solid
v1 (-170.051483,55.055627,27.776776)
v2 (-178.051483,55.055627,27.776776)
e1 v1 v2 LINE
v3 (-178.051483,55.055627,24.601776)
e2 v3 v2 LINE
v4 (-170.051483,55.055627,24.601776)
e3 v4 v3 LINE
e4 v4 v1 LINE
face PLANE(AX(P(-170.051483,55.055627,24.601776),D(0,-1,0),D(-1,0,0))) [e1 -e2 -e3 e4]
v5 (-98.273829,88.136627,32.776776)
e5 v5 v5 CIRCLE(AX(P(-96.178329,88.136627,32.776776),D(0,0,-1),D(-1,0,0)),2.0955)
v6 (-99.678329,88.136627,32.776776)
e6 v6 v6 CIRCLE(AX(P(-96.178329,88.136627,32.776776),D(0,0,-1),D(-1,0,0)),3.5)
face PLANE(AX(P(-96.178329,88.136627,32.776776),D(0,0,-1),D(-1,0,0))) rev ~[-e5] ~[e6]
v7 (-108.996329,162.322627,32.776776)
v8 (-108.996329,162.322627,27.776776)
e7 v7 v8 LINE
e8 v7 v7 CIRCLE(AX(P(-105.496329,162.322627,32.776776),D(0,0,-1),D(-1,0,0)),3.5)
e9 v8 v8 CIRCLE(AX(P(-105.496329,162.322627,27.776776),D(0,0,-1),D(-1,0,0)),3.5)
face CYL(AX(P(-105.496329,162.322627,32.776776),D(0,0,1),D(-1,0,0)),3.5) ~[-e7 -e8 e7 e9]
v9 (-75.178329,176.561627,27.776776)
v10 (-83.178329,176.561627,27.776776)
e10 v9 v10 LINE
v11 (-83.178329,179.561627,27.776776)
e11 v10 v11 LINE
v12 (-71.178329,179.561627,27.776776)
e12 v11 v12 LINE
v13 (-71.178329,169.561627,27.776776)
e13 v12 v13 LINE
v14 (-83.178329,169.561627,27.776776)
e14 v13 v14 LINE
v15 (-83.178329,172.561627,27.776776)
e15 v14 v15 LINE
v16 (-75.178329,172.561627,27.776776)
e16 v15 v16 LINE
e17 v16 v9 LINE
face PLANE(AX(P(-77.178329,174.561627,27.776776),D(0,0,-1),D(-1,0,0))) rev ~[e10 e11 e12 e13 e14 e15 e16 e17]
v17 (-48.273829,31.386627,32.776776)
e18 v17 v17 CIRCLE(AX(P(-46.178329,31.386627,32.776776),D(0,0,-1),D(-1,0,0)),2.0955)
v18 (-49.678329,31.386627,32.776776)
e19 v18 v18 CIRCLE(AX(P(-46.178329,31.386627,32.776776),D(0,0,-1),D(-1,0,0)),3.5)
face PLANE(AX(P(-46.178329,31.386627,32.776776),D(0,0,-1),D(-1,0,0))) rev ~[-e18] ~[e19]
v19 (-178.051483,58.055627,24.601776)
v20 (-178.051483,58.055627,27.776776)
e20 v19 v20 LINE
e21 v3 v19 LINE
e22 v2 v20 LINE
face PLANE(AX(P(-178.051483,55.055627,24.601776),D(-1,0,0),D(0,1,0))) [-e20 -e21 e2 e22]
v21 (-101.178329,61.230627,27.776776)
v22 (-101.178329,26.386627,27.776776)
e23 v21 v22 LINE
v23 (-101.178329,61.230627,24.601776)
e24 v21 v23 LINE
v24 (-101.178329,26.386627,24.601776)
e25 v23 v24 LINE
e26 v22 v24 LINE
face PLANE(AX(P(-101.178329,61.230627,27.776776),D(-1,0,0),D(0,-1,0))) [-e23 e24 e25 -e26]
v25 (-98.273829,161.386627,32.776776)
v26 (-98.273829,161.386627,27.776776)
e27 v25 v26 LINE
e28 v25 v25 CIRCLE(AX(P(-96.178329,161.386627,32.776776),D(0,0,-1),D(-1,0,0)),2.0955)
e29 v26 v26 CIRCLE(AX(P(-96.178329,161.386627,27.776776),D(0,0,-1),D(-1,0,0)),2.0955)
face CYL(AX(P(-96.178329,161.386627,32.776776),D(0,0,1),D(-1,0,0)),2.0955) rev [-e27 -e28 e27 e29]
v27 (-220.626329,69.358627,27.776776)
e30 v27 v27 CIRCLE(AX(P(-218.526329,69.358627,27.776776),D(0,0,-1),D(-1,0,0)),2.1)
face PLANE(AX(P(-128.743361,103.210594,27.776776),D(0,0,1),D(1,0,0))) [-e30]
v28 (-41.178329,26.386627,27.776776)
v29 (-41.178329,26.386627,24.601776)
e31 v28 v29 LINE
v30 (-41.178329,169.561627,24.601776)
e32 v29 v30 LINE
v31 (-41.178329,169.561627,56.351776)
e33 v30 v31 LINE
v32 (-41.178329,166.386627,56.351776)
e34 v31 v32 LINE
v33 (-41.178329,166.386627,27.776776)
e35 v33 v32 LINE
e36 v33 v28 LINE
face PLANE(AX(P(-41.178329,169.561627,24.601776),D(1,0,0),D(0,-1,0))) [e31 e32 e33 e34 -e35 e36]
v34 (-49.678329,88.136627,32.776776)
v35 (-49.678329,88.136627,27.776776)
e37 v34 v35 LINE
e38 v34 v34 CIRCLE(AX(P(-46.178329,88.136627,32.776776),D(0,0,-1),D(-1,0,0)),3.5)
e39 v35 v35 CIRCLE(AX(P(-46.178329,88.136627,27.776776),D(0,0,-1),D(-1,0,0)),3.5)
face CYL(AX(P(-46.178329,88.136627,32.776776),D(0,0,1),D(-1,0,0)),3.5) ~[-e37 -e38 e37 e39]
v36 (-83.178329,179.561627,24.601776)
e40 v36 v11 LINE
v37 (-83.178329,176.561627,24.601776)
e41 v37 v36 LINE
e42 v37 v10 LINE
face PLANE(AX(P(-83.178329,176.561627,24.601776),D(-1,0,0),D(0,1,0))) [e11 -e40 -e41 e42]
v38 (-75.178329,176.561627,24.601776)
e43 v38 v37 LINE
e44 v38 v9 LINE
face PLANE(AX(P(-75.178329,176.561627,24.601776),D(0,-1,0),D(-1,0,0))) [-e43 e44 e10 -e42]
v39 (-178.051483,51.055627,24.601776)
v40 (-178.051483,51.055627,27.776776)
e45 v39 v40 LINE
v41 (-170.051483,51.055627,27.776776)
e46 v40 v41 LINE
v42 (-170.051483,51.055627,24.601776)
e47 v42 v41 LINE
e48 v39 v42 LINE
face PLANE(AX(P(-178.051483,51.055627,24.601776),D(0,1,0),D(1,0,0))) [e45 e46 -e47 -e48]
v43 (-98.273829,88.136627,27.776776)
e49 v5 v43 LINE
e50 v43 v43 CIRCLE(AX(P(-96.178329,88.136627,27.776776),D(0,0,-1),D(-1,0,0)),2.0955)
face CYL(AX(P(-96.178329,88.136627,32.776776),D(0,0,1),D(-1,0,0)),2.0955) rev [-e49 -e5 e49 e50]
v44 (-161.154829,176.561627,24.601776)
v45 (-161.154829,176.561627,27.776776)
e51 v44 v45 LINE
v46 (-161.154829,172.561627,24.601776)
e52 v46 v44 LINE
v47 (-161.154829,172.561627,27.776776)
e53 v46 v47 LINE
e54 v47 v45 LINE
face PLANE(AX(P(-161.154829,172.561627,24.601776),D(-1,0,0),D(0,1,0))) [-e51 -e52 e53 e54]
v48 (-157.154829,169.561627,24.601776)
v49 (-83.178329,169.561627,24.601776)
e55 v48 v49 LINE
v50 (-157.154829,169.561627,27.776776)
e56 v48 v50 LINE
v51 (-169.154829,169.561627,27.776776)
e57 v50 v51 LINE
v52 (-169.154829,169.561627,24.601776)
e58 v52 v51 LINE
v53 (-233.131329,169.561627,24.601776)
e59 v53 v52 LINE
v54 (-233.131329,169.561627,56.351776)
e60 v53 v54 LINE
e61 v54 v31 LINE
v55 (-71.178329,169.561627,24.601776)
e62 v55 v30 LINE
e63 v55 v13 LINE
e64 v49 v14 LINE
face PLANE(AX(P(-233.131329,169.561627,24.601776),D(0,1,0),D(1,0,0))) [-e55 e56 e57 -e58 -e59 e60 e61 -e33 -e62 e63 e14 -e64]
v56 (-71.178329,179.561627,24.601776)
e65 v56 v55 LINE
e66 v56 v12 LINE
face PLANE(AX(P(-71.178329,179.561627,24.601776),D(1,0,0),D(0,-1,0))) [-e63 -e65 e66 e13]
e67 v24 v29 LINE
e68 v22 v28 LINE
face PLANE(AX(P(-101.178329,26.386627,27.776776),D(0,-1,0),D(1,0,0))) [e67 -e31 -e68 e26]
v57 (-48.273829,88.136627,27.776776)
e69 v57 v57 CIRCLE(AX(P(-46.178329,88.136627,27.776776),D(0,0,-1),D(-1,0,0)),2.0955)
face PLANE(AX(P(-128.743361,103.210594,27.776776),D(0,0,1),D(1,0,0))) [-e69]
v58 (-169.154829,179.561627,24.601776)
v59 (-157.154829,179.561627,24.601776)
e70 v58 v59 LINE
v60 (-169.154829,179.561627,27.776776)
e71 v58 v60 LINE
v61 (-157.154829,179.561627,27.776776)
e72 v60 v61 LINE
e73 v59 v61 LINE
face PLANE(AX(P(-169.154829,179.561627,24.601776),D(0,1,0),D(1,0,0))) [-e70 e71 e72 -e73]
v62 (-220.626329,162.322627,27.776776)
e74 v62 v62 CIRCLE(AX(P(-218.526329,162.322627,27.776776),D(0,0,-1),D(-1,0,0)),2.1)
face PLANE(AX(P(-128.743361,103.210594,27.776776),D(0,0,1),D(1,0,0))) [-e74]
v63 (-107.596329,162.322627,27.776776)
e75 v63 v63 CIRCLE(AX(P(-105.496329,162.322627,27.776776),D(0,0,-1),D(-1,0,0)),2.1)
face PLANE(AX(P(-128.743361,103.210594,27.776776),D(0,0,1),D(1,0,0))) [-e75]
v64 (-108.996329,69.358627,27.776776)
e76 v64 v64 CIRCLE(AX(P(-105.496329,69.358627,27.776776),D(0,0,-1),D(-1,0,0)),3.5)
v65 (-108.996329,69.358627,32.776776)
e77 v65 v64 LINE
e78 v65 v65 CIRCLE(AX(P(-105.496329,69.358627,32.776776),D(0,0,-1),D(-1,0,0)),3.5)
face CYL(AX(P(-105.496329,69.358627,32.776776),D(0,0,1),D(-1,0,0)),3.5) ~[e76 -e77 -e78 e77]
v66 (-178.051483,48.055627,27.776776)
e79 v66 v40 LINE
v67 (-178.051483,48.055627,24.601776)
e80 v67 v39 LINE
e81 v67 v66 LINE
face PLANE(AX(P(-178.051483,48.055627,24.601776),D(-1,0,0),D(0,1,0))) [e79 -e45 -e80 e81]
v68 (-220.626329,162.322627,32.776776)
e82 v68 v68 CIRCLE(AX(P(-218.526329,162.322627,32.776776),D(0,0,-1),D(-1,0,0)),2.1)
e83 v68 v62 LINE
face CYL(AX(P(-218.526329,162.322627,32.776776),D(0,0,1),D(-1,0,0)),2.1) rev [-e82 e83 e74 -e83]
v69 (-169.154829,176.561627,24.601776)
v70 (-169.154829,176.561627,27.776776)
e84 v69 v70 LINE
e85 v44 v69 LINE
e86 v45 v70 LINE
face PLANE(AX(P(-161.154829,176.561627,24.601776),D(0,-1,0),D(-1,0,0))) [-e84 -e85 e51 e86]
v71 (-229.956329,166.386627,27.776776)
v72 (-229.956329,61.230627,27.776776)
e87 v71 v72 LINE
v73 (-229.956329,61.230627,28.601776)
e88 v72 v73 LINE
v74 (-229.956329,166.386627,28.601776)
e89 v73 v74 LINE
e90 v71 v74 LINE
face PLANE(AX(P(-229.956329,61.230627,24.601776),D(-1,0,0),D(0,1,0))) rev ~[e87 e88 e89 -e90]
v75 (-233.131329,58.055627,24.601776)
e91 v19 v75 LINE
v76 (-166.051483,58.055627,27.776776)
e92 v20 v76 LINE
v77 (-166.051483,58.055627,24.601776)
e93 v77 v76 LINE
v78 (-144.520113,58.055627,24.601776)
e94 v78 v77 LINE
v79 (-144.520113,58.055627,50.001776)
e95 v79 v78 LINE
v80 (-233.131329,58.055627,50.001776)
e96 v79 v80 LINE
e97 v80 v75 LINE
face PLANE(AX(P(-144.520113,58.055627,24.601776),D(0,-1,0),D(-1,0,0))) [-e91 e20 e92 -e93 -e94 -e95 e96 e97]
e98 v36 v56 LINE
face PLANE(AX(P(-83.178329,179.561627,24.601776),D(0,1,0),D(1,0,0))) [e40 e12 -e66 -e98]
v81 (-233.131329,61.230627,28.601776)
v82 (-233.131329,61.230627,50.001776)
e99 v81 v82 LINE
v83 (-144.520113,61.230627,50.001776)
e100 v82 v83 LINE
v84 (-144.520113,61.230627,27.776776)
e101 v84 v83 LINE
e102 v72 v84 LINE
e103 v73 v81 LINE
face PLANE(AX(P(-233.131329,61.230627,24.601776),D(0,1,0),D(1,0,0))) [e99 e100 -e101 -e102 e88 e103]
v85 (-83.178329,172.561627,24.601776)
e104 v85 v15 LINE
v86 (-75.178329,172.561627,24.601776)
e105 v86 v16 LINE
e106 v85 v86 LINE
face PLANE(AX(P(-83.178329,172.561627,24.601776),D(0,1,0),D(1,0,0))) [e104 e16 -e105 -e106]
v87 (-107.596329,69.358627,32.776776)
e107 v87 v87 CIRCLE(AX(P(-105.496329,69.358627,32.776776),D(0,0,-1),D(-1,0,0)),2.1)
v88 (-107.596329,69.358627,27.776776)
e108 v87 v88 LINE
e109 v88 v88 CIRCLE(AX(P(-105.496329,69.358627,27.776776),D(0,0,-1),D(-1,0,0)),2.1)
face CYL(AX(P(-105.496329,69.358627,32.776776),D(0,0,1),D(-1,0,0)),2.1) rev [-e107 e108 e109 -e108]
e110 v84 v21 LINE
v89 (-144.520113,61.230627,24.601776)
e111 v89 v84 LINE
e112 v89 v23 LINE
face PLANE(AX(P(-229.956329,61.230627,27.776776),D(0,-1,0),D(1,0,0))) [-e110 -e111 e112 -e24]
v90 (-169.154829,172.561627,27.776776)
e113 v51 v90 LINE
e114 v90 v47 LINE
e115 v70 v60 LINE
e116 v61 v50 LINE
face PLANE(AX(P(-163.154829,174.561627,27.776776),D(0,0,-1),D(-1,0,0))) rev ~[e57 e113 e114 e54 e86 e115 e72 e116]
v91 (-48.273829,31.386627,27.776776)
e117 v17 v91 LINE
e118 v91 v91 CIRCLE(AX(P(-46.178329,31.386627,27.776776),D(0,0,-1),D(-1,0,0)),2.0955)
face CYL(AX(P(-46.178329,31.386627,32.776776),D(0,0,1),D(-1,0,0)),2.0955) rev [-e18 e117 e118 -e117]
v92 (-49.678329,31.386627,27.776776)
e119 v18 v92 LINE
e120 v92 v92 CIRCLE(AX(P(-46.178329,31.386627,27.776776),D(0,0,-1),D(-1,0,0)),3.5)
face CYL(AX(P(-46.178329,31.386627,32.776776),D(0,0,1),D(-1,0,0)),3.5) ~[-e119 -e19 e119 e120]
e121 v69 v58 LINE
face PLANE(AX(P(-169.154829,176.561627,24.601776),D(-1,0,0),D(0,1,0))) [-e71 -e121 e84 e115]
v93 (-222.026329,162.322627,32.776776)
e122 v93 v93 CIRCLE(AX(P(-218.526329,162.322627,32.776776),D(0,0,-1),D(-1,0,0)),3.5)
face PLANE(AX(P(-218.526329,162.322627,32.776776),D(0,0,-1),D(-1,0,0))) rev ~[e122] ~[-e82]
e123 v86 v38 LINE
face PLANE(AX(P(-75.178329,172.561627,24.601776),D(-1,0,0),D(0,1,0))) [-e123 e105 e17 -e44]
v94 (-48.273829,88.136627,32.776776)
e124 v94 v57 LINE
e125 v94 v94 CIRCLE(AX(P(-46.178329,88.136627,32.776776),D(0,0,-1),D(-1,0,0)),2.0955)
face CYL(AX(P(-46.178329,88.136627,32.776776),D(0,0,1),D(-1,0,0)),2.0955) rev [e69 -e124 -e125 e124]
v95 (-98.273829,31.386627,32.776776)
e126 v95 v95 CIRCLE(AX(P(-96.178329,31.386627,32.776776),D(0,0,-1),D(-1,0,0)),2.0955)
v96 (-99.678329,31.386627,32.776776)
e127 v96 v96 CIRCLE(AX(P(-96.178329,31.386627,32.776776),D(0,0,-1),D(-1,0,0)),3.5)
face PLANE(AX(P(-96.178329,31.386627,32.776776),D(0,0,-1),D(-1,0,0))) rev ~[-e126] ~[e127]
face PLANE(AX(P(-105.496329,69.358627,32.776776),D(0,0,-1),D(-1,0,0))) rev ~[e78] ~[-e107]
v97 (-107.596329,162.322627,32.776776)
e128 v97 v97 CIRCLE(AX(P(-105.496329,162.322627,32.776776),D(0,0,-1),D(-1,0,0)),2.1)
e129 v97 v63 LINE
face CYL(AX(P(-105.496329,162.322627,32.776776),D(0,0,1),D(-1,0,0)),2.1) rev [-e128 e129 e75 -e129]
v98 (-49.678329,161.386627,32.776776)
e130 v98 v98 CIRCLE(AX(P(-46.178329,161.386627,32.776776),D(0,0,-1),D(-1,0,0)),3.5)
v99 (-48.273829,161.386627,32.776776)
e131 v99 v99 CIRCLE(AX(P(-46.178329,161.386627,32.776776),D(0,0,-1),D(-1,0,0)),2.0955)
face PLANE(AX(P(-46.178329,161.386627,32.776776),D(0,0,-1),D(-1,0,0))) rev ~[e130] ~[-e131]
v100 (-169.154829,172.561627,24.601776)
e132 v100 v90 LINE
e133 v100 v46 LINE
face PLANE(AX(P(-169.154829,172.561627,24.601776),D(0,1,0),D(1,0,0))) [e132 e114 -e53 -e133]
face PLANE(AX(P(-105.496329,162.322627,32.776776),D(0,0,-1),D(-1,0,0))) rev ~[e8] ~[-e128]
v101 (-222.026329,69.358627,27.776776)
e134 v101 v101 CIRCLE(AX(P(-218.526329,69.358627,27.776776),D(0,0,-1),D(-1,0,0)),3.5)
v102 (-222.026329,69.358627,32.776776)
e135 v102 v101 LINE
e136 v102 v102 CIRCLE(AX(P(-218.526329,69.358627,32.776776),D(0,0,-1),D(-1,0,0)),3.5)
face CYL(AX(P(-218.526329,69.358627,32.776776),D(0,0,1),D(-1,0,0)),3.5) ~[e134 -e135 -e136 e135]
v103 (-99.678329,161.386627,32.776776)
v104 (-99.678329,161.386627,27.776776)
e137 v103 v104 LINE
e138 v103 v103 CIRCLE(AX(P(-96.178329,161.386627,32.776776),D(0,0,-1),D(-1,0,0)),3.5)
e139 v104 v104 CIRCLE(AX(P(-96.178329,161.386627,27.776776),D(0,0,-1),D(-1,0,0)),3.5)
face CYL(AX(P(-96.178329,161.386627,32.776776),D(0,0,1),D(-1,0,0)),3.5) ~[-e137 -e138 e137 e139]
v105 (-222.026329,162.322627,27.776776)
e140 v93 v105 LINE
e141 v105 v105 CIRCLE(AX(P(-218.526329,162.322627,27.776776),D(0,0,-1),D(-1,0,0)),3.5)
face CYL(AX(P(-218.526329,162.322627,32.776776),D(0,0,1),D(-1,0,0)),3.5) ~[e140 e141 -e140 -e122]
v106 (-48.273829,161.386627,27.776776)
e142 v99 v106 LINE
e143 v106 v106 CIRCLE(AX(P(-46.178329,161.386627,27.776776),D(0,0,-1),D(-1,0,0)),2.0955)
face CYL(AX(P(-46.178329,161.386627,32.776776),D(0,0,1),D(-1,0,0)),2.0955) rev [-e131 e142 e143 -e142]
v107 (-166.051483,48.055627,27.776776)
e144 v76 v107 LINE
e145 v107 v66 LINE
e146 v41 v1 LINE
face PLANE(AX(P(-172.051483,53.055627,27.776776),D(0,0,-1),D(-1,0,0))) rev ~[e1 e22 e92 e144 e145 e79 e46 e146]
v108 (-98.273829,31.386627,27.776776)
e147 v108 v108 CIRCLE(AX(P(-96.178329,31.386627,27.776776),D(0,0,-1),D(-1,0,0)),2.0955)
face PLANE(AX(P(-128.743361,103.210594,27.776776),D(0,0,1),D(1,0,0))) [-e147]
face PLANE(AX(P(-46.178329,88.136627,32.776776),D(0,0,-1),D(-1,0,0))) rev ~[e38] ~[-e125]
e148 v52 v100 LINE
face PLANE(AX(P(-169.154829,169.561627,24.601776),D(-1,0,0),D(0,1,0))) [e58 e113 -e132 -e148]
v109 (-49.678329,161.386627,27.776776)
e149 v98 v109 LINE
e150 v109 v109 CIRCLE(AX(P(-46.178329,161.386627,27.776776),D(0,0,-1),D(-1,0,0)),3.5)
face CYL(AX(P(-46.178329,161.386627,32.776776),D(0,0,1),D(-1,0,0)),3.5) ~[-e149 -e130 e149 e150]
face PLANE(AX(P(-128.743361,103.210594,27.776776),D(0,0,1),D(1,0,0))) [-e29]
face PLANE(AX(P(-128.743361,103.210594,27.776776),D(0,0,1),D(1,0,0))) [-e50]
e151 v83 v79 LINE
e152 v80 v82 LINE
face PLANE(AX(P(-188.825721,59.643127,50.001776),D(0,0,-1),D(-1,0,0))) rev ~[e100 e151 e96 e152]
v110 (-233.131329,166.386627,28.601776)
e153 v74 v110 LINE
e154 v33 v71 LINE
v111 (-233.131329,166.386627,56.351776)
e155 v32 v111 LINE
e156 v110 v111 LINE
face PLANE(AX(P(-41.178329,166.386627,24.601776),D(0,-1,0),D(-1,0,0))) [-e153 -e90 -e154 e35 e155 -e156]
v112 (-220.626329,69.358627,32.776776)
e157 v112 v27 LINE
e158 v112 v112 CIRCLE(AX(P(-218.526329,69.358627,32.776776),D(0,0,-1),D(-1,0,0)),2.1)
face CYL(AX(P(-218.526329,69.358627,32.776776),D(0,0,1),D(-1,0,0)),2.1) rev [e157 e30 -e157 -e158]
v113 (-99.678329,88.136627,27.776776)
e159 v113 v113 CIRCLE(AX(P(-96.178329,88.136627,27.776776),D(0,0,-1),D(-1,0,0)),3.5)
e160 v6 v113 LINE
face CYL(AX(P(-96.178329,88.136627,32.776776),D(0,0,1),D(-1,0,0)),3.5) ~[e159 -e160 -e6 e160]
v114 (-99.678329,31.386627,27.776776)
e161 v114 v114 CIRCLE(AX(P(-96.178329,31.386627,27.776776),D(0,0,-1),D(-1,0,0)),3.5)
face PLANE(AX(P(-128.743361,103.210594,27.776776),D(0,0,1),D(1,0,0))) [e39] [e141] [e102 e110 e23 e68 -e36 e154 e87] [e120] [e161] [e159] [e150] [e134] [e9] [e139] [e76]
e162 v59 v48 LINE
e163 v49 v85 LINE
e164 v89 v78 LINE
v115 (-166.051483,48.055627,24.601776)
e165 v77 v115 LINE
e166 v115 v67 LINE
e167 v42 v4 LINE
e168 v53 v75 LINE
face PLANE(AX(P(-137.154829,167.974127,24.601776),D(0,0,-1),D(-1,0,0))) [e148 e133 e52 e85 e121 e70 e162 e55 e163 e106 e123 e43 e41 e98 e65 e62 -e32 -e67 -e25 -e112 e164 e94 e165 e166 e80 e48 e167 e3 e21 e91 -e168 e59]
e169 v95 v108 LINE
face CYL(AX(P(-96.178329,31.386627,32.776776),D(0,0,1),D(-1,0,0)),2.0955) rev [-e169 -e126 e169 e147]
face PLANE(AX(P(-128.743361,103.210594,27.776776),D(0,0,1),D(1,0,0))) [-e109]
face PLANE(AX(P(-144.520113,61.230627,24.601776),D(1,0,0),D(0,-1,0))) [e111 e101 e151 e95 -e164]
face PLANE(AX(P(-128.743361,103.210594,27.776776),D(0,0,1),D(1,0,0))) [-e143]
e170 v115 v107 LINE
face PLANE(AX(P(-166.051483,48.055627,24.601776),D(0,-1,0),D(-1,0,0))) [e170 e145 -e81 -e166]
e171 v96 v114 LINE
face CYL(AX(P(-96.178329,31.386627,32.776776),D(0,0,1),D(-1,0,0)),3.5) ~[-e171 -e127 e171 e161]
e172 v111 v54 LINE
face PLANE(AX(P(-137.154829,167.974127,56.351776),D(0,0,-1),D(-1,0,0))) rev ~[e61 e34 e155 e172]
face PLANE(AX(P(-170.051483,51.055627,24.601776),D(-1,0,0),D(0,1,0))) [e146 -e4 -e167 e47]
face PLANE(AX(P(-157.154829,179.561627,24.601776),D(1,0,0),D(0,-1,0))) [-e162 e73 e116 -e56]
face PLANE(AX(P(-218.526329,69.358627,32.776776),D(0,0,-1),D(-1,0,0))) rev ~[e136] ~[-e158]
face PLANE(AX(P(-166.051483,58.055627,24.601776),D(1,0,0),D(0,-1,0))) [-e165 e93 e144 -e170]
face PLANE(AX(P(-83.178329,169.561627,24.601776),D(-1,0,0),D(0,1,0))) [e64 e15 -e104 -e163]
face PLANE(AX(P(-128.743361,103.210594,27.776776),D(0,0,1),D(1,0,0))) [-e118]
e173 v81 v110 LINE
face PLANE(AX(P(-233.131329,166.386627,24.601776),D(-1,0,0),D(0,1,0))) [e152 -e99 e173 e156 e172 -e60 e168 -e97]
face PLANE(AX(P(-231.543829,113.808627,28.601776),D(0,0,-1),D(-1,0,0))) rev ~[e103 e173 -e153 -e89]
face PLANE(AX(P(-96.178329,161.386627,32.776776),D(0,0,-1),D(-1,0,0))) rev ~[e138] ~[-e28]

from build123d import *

# Parameters (mm, degrees)
SKETCH2_R              = 3.5
SKETCH2_R_2            = 2.0955
BOSS_EXTRUDE1_DEPTH    = 5
BOSS_EXTRUDE1_2_DEPTH  = 5
SKETCH2_R_3            = 2.1
BOSS_EXTRUDE1_3_DEPTH  = 5
BOSS_EXTRUDE1_4_DEPTH  = 5
BOSS_EXTRUDE1_5_DEPTH  = 5
BOSS_EXTRUDE1_6_DEPTH  = 5
BOSS_EXTRUDE1_7_DEPTH  = 5
BOSS_EXTRUDE1_8_DEPTH  = 5
BOSS_EXTRUDE1_9_DEPTH  = 5
BOSS_EXTRUDE1_10_DEPTH = 5
BOSS_EXTRUDE2_DEPTH    = 3.175
BOSS_EXTRUDE3_DEPTH    = 25.4
BOSS_EXTRUDE4_DEPTH    = 16
BOSS_EXTRUDE5_DEPTH    = 3.175
BOSS_EXTRUDE6_DEPTH    = 31.75
SKETCH4_5_W            = 3.175
SKETCH4_5_H            = 105.156
BOSS_EXTRUDE7_DEPTH    = 4
BOSS_EXTRUDE8_DEPTH    = 3.175


with BuildPart() as part:
    # Sketch2 → Boss-Extrude1 (new body)
    with BuildSketch(Plane(origin=(0, 0, 32.776775543), x_dir=(-1, 0, 0), z_dir=(0, 0, -1))):
        with Locations((46.17832863, 161.386626861)):
            Circle(SKETCH2_R)
        with Locations((46.17832863, 161.386626861)):
            Circle(SKETCH2_R_2, mode=Mode.SUBTRACT)
    extrude(amount=BOSS_EXTRUDE1_DEPTH)



with BuildPart() as body_2:
    # Sketch2 → Boss-Extrude1 2 (new body)
    with BuildSketch(Plane(origin=(0, 0, 32.776775543), x_dir=(-1, 0, 0), z_dir=(0, 0, -1))):
        with Locations((96.17832863, 161.386626861)):
            Circle(SKETCH2_R)
        with Locations((96.17832863, 161.386626861)):
            Circle(SKETCH2_R_2, mode=Mode.SUBTRACT)
    extrude(amount=BOSS_EXTRUDE1_2_DEPTH)


with BuildPart() as body_3:
    # Sketch2 → Boss-Extrude1 3 (new body)
    with BuildSketch(Plane(origin=(0, 0, 32.776775543), x_dir=(-1, 0, 0), z_dir=(0, 0, -1))):
        with Locations((105.49632863, 162.322626861)):
            Circle(SKETCH2_R)
        with Locations((105.49632863, 162.322626861)):
            Circle(SKETCH2_R_3, mode=Mode.SUBTRACT)
    extrude(amount=BOSS_EXTRUDE1_3_DEPTH)


with BuildPart() as body_4:
    # Sketch2 → Boss-Extrude1 4 (new body)
    with BuildSketch(Plane(origin=(0, 0, 32.776775543), x_dir=(-1, 0, 0), z_dir=(0, 0, -1))):
        with Locations((218.52632863, 162.322626861)):
            Circle(SKETCH2_R)
        with Locations((218.52632863, 162.322626861)):
            Circle(SKETCH2_R_3, mode=Mode.SUBTRACT)
    extrude(amount=BOSS_EXTRUDE1_4_DEPTH)


with BuildPart() as body_5:
    # Sketch2 → Boss-Extrude1 5 (new body)
    with BuildSketch(Plane(origin=(0, 0, 32.776775543), x_dir=(-1, 0, 0), z_dir=(0, 0, -1))):
        with Locations((46.17832863, 88.136626861)):
            Circle(SKETCH2_R)
        with Locations((46.17832863, 88.136626861)):
            Circle(SKETCH2_R_2, mode=Mode.SUBTRACT)
    extrude(amount=BOSS_EXTRUDE1_5_DEPTH)


with BuildPart() as body_6:
    # Sketch2 → Boss-Extrude1 6 (new body)
    with BuildSketch(Plane(origin=(0, 0, 32.776775543), x_dir=(-1, 0, 0), z_dir=(0, 0, -1))):
        with Locations((46.17832863, 31.386626861)):
            Circle(SKETCH2_R)
        with Locations((46.17832863, 31.386626861)):
            Circle(SKETCH2_R_2, mode=Mode.SUBTRACT)
    extrude(amount=BOSS_EXTRUDE1_6_DEPTH)


with BuildPart() as body_7:
    # Sketch2 → Boss-Extrude1 7 (new body)
    with BuildSketch(Plane(origin=(0, 0, 32.776775543), x_dir=(-1, 0, 0), z_dir=(0, 0, -1))):
        with Locations((96.17832863, 31.386626861)):
            Circle(SKETCH2_R)
        with Locations((96.17832863, 31.386626861)):
            Circle(SKETCH2_R_2, mode=Mode.SUBTRACT)
    extrude(amount=BOSS_EXTRUDE1_7_DEPTH)


with BuildPart() as body_8:
    # Sketch2 → Boss-Extrude1 8 (new body)
    with BuildSketch(Plane(origin=(0, 0, 32.776775543), x_dir=(-1, 0, 0), z_dir=(0, 0, -1))):
        with Locations((96.17832863, 88.136626861)):
            Circle(SKETCH2_R)
        with Locations((96.17832863, 88.136626861)):
            Circle(SKETCH2_R_2, mode=Mode.SUBTRACT)
    extrude(amount=BOSS_EXTRUDE1_8_DEPTH)


with BuildPart() as body_9:
    # Sketch2 → Boss-Extrude1 9 (new body)
    with BuildSketch(Plane(origin=(0, 0, 32.776775543), x_dir=(-1, 0, 0), z_dir=(0, 0, -1))):
        with Locations((105.49632863, 69.358626861)):
            Circle(SKETCH2_R)
        with Locations((105.49632863, 69.358626861)):
            Circle(SKETCH2_R_3, mode=Mode.SUBTRACT)
    extrude(amount=BOSS_EXTRUDE1_9_DEPTH)


with BuildPart() as body_10:
    # Sketch2 → Boss-Extrude1 10 (new body)
    with BuildSketch(Plane(origin=(0, 0, 32.776775543), x_dir=(-1, 0, 0), z_dir=(0, 0, -1))):
        with Locations((218.52632863, 69.358626861)):
            Circle(SKETCH2_R)
        with Locations((218.52632863, 69.358626861)):
            Circle(SKETCH2_R_3, mode=Mode.SUBTRACT)
    extrude(amount=BOSS_EXTRUDE1_10_DEPTH)


with BuildPart() as part_1:
    add(part.part)

    add(body_2.part)  # Boss-Extrude2 merges body 2

    add(body_3.part)  # Boss-Extrude2 merges body 3

    add(body_4.part)  # Boss-Extrude2 merges body 4

    add(body_5.part)  # Boss-Extrude2 merges body 5

    add(body_6.part)  # Boss-Extrude2 merges body 6

    add(body_7.part)  # Boss-Extrude2 merges body 7

    add(body_8.part)  # Boss-Extrude2 merges body 8

    add(body_9.part)  # Boss-Extrude2 merges body 9

    add(body_10.part)  # Boss-Extrude2 merges body 10
    # Sketch3 → Boss-Extrude2 (add)
    with BuildSketch(Plane(origin=(0, 0, 27.776775543), x_dir=(-1, 0, 0), z_dir=(0, 0, -1))):
        Polygon((41.17832863, 166.386626861), (229.95632863, 166.386626861), (229.95632863, 61.230626861), (101.17832863, 61.230626861), (101.17832863, 26.386626861), (41.17832863, 26.386626861), (41.17832863, 61.230626861), align=None)
    extrude(amount=BOSS_EXTRUDE2_DEPTH)

    # Sketch4 → Boss-Extrude3 (add)
    with BuildSketch(Plane(origin=(0, 0, 24.601775543), x_dir=(-1, 0, 0), z_dir=(0, 0, -1))):
        Polygon((233.13132863, 61.230626861), (229.95632863, 61.230626861), (144.520113107, 61.230626861), (144.520113107, 58.055626861), (233.13132863, 58.055626861), align=None)
    extrude(amount=-BOSS_EXTRUDE3_DEPTH)

    # Sketch4<3> → Boss-Extrude4 (add)
    with BuildSketch(Plane(origin=(0, 0, 24.601775543), x_dir=(-1, 0, 0), z_dir=(0, 0, -1))):
        Polygon((144.520113107, 61.230626861), (144.520113107, 58.055626861), (233.13132863, 58.055626861), (233.13132863, 61.230626861), (229.95632863, 61.230626861), align=None)
    extrude(amount=-BOSS_EXTRUDE4_DEPTH)

    # Sketch5 → Boss-Extrude5 (add)
    with BuildSketch(Plane(origin=(0, 0, 24.601775543), x_dir=(-1, 0, 0), z_dir=(0, 0, -1))):
        Polygon((166.051482846, 58.055626861), (166.051482846, 48.055626861), (178.051482846, 48.055626861), (178.051482846, 51.055626861), (170.051482846, 51.055626861), (170.051482846, 55.055626861), (178.051482846, 55.055626861), (178.051482846, 58.055626861), align=None)
    extrude(amount=-BOSS_EXTRUDE5_DEPTH)

    # Sketch4<4> → Boss-Extrude6 (add)
    with BuildSketch(Plane(origin=(0, 0, 24.601775543), x_dir=(-1, 0, 0), z_dir=(0, 0, -1))):
        Polygon((41.17832863, 169.561626861), (41.17832863, 166.386626861), (229.95632863, 166.386626861), (233.13132863, 166.386626861), (233.13132863, 169.561626861), align=None)
    extrude(amount=-BOSS_EXTRUDE6_DEPTH)

    # Sketch4<5> → Boss-Extrude7 (add)
    with BuildSketch(Plane(origin=(0, 0, 24.601775543), x_dir=(-1, 0, 0), z_dir=(0, 0, -1))):
        with Locations((231.54382863, 113.808626861)):
            Rectangle(SKETCH4_5_W, SKETCH4_5_H)
    extrude(amount=-BOSS_EXTRUDE7_DEPTH)

    # Sketch6 → Boss-Extrude8 (add)
    with BuildSketch(Plane(origin=(0, 0, 24.601775543), x_dir=(-1, 0, 0), z_dir=(0, 0, -1))):
        Polygon((71.17832863, 169.561626861), (83.17832863, 169.561626861), (83.17832863, 172.561626861), (75.17832863, 172.561626861), (75.17832863, 176.561626861), (83.17832863, 176.561626861), (83.17832863, 179.561626861), (71.17832863, 179.561626861), align=None)
        Polygon((157.15482863, 179.561626861), (157.15482863, 169.561626861), (169.15482863, 169.561626861), (169.15482863, 172.561626861), (161.15482863, 172.561626861), (161.15482863, 176.561626861), (169.15482863, 176.561626861), (169.15482863, 179.561626861), align=None)
    extrude(amount=-BOSS_EXTRUDE8_DEPTH)


solid = part_1.part
